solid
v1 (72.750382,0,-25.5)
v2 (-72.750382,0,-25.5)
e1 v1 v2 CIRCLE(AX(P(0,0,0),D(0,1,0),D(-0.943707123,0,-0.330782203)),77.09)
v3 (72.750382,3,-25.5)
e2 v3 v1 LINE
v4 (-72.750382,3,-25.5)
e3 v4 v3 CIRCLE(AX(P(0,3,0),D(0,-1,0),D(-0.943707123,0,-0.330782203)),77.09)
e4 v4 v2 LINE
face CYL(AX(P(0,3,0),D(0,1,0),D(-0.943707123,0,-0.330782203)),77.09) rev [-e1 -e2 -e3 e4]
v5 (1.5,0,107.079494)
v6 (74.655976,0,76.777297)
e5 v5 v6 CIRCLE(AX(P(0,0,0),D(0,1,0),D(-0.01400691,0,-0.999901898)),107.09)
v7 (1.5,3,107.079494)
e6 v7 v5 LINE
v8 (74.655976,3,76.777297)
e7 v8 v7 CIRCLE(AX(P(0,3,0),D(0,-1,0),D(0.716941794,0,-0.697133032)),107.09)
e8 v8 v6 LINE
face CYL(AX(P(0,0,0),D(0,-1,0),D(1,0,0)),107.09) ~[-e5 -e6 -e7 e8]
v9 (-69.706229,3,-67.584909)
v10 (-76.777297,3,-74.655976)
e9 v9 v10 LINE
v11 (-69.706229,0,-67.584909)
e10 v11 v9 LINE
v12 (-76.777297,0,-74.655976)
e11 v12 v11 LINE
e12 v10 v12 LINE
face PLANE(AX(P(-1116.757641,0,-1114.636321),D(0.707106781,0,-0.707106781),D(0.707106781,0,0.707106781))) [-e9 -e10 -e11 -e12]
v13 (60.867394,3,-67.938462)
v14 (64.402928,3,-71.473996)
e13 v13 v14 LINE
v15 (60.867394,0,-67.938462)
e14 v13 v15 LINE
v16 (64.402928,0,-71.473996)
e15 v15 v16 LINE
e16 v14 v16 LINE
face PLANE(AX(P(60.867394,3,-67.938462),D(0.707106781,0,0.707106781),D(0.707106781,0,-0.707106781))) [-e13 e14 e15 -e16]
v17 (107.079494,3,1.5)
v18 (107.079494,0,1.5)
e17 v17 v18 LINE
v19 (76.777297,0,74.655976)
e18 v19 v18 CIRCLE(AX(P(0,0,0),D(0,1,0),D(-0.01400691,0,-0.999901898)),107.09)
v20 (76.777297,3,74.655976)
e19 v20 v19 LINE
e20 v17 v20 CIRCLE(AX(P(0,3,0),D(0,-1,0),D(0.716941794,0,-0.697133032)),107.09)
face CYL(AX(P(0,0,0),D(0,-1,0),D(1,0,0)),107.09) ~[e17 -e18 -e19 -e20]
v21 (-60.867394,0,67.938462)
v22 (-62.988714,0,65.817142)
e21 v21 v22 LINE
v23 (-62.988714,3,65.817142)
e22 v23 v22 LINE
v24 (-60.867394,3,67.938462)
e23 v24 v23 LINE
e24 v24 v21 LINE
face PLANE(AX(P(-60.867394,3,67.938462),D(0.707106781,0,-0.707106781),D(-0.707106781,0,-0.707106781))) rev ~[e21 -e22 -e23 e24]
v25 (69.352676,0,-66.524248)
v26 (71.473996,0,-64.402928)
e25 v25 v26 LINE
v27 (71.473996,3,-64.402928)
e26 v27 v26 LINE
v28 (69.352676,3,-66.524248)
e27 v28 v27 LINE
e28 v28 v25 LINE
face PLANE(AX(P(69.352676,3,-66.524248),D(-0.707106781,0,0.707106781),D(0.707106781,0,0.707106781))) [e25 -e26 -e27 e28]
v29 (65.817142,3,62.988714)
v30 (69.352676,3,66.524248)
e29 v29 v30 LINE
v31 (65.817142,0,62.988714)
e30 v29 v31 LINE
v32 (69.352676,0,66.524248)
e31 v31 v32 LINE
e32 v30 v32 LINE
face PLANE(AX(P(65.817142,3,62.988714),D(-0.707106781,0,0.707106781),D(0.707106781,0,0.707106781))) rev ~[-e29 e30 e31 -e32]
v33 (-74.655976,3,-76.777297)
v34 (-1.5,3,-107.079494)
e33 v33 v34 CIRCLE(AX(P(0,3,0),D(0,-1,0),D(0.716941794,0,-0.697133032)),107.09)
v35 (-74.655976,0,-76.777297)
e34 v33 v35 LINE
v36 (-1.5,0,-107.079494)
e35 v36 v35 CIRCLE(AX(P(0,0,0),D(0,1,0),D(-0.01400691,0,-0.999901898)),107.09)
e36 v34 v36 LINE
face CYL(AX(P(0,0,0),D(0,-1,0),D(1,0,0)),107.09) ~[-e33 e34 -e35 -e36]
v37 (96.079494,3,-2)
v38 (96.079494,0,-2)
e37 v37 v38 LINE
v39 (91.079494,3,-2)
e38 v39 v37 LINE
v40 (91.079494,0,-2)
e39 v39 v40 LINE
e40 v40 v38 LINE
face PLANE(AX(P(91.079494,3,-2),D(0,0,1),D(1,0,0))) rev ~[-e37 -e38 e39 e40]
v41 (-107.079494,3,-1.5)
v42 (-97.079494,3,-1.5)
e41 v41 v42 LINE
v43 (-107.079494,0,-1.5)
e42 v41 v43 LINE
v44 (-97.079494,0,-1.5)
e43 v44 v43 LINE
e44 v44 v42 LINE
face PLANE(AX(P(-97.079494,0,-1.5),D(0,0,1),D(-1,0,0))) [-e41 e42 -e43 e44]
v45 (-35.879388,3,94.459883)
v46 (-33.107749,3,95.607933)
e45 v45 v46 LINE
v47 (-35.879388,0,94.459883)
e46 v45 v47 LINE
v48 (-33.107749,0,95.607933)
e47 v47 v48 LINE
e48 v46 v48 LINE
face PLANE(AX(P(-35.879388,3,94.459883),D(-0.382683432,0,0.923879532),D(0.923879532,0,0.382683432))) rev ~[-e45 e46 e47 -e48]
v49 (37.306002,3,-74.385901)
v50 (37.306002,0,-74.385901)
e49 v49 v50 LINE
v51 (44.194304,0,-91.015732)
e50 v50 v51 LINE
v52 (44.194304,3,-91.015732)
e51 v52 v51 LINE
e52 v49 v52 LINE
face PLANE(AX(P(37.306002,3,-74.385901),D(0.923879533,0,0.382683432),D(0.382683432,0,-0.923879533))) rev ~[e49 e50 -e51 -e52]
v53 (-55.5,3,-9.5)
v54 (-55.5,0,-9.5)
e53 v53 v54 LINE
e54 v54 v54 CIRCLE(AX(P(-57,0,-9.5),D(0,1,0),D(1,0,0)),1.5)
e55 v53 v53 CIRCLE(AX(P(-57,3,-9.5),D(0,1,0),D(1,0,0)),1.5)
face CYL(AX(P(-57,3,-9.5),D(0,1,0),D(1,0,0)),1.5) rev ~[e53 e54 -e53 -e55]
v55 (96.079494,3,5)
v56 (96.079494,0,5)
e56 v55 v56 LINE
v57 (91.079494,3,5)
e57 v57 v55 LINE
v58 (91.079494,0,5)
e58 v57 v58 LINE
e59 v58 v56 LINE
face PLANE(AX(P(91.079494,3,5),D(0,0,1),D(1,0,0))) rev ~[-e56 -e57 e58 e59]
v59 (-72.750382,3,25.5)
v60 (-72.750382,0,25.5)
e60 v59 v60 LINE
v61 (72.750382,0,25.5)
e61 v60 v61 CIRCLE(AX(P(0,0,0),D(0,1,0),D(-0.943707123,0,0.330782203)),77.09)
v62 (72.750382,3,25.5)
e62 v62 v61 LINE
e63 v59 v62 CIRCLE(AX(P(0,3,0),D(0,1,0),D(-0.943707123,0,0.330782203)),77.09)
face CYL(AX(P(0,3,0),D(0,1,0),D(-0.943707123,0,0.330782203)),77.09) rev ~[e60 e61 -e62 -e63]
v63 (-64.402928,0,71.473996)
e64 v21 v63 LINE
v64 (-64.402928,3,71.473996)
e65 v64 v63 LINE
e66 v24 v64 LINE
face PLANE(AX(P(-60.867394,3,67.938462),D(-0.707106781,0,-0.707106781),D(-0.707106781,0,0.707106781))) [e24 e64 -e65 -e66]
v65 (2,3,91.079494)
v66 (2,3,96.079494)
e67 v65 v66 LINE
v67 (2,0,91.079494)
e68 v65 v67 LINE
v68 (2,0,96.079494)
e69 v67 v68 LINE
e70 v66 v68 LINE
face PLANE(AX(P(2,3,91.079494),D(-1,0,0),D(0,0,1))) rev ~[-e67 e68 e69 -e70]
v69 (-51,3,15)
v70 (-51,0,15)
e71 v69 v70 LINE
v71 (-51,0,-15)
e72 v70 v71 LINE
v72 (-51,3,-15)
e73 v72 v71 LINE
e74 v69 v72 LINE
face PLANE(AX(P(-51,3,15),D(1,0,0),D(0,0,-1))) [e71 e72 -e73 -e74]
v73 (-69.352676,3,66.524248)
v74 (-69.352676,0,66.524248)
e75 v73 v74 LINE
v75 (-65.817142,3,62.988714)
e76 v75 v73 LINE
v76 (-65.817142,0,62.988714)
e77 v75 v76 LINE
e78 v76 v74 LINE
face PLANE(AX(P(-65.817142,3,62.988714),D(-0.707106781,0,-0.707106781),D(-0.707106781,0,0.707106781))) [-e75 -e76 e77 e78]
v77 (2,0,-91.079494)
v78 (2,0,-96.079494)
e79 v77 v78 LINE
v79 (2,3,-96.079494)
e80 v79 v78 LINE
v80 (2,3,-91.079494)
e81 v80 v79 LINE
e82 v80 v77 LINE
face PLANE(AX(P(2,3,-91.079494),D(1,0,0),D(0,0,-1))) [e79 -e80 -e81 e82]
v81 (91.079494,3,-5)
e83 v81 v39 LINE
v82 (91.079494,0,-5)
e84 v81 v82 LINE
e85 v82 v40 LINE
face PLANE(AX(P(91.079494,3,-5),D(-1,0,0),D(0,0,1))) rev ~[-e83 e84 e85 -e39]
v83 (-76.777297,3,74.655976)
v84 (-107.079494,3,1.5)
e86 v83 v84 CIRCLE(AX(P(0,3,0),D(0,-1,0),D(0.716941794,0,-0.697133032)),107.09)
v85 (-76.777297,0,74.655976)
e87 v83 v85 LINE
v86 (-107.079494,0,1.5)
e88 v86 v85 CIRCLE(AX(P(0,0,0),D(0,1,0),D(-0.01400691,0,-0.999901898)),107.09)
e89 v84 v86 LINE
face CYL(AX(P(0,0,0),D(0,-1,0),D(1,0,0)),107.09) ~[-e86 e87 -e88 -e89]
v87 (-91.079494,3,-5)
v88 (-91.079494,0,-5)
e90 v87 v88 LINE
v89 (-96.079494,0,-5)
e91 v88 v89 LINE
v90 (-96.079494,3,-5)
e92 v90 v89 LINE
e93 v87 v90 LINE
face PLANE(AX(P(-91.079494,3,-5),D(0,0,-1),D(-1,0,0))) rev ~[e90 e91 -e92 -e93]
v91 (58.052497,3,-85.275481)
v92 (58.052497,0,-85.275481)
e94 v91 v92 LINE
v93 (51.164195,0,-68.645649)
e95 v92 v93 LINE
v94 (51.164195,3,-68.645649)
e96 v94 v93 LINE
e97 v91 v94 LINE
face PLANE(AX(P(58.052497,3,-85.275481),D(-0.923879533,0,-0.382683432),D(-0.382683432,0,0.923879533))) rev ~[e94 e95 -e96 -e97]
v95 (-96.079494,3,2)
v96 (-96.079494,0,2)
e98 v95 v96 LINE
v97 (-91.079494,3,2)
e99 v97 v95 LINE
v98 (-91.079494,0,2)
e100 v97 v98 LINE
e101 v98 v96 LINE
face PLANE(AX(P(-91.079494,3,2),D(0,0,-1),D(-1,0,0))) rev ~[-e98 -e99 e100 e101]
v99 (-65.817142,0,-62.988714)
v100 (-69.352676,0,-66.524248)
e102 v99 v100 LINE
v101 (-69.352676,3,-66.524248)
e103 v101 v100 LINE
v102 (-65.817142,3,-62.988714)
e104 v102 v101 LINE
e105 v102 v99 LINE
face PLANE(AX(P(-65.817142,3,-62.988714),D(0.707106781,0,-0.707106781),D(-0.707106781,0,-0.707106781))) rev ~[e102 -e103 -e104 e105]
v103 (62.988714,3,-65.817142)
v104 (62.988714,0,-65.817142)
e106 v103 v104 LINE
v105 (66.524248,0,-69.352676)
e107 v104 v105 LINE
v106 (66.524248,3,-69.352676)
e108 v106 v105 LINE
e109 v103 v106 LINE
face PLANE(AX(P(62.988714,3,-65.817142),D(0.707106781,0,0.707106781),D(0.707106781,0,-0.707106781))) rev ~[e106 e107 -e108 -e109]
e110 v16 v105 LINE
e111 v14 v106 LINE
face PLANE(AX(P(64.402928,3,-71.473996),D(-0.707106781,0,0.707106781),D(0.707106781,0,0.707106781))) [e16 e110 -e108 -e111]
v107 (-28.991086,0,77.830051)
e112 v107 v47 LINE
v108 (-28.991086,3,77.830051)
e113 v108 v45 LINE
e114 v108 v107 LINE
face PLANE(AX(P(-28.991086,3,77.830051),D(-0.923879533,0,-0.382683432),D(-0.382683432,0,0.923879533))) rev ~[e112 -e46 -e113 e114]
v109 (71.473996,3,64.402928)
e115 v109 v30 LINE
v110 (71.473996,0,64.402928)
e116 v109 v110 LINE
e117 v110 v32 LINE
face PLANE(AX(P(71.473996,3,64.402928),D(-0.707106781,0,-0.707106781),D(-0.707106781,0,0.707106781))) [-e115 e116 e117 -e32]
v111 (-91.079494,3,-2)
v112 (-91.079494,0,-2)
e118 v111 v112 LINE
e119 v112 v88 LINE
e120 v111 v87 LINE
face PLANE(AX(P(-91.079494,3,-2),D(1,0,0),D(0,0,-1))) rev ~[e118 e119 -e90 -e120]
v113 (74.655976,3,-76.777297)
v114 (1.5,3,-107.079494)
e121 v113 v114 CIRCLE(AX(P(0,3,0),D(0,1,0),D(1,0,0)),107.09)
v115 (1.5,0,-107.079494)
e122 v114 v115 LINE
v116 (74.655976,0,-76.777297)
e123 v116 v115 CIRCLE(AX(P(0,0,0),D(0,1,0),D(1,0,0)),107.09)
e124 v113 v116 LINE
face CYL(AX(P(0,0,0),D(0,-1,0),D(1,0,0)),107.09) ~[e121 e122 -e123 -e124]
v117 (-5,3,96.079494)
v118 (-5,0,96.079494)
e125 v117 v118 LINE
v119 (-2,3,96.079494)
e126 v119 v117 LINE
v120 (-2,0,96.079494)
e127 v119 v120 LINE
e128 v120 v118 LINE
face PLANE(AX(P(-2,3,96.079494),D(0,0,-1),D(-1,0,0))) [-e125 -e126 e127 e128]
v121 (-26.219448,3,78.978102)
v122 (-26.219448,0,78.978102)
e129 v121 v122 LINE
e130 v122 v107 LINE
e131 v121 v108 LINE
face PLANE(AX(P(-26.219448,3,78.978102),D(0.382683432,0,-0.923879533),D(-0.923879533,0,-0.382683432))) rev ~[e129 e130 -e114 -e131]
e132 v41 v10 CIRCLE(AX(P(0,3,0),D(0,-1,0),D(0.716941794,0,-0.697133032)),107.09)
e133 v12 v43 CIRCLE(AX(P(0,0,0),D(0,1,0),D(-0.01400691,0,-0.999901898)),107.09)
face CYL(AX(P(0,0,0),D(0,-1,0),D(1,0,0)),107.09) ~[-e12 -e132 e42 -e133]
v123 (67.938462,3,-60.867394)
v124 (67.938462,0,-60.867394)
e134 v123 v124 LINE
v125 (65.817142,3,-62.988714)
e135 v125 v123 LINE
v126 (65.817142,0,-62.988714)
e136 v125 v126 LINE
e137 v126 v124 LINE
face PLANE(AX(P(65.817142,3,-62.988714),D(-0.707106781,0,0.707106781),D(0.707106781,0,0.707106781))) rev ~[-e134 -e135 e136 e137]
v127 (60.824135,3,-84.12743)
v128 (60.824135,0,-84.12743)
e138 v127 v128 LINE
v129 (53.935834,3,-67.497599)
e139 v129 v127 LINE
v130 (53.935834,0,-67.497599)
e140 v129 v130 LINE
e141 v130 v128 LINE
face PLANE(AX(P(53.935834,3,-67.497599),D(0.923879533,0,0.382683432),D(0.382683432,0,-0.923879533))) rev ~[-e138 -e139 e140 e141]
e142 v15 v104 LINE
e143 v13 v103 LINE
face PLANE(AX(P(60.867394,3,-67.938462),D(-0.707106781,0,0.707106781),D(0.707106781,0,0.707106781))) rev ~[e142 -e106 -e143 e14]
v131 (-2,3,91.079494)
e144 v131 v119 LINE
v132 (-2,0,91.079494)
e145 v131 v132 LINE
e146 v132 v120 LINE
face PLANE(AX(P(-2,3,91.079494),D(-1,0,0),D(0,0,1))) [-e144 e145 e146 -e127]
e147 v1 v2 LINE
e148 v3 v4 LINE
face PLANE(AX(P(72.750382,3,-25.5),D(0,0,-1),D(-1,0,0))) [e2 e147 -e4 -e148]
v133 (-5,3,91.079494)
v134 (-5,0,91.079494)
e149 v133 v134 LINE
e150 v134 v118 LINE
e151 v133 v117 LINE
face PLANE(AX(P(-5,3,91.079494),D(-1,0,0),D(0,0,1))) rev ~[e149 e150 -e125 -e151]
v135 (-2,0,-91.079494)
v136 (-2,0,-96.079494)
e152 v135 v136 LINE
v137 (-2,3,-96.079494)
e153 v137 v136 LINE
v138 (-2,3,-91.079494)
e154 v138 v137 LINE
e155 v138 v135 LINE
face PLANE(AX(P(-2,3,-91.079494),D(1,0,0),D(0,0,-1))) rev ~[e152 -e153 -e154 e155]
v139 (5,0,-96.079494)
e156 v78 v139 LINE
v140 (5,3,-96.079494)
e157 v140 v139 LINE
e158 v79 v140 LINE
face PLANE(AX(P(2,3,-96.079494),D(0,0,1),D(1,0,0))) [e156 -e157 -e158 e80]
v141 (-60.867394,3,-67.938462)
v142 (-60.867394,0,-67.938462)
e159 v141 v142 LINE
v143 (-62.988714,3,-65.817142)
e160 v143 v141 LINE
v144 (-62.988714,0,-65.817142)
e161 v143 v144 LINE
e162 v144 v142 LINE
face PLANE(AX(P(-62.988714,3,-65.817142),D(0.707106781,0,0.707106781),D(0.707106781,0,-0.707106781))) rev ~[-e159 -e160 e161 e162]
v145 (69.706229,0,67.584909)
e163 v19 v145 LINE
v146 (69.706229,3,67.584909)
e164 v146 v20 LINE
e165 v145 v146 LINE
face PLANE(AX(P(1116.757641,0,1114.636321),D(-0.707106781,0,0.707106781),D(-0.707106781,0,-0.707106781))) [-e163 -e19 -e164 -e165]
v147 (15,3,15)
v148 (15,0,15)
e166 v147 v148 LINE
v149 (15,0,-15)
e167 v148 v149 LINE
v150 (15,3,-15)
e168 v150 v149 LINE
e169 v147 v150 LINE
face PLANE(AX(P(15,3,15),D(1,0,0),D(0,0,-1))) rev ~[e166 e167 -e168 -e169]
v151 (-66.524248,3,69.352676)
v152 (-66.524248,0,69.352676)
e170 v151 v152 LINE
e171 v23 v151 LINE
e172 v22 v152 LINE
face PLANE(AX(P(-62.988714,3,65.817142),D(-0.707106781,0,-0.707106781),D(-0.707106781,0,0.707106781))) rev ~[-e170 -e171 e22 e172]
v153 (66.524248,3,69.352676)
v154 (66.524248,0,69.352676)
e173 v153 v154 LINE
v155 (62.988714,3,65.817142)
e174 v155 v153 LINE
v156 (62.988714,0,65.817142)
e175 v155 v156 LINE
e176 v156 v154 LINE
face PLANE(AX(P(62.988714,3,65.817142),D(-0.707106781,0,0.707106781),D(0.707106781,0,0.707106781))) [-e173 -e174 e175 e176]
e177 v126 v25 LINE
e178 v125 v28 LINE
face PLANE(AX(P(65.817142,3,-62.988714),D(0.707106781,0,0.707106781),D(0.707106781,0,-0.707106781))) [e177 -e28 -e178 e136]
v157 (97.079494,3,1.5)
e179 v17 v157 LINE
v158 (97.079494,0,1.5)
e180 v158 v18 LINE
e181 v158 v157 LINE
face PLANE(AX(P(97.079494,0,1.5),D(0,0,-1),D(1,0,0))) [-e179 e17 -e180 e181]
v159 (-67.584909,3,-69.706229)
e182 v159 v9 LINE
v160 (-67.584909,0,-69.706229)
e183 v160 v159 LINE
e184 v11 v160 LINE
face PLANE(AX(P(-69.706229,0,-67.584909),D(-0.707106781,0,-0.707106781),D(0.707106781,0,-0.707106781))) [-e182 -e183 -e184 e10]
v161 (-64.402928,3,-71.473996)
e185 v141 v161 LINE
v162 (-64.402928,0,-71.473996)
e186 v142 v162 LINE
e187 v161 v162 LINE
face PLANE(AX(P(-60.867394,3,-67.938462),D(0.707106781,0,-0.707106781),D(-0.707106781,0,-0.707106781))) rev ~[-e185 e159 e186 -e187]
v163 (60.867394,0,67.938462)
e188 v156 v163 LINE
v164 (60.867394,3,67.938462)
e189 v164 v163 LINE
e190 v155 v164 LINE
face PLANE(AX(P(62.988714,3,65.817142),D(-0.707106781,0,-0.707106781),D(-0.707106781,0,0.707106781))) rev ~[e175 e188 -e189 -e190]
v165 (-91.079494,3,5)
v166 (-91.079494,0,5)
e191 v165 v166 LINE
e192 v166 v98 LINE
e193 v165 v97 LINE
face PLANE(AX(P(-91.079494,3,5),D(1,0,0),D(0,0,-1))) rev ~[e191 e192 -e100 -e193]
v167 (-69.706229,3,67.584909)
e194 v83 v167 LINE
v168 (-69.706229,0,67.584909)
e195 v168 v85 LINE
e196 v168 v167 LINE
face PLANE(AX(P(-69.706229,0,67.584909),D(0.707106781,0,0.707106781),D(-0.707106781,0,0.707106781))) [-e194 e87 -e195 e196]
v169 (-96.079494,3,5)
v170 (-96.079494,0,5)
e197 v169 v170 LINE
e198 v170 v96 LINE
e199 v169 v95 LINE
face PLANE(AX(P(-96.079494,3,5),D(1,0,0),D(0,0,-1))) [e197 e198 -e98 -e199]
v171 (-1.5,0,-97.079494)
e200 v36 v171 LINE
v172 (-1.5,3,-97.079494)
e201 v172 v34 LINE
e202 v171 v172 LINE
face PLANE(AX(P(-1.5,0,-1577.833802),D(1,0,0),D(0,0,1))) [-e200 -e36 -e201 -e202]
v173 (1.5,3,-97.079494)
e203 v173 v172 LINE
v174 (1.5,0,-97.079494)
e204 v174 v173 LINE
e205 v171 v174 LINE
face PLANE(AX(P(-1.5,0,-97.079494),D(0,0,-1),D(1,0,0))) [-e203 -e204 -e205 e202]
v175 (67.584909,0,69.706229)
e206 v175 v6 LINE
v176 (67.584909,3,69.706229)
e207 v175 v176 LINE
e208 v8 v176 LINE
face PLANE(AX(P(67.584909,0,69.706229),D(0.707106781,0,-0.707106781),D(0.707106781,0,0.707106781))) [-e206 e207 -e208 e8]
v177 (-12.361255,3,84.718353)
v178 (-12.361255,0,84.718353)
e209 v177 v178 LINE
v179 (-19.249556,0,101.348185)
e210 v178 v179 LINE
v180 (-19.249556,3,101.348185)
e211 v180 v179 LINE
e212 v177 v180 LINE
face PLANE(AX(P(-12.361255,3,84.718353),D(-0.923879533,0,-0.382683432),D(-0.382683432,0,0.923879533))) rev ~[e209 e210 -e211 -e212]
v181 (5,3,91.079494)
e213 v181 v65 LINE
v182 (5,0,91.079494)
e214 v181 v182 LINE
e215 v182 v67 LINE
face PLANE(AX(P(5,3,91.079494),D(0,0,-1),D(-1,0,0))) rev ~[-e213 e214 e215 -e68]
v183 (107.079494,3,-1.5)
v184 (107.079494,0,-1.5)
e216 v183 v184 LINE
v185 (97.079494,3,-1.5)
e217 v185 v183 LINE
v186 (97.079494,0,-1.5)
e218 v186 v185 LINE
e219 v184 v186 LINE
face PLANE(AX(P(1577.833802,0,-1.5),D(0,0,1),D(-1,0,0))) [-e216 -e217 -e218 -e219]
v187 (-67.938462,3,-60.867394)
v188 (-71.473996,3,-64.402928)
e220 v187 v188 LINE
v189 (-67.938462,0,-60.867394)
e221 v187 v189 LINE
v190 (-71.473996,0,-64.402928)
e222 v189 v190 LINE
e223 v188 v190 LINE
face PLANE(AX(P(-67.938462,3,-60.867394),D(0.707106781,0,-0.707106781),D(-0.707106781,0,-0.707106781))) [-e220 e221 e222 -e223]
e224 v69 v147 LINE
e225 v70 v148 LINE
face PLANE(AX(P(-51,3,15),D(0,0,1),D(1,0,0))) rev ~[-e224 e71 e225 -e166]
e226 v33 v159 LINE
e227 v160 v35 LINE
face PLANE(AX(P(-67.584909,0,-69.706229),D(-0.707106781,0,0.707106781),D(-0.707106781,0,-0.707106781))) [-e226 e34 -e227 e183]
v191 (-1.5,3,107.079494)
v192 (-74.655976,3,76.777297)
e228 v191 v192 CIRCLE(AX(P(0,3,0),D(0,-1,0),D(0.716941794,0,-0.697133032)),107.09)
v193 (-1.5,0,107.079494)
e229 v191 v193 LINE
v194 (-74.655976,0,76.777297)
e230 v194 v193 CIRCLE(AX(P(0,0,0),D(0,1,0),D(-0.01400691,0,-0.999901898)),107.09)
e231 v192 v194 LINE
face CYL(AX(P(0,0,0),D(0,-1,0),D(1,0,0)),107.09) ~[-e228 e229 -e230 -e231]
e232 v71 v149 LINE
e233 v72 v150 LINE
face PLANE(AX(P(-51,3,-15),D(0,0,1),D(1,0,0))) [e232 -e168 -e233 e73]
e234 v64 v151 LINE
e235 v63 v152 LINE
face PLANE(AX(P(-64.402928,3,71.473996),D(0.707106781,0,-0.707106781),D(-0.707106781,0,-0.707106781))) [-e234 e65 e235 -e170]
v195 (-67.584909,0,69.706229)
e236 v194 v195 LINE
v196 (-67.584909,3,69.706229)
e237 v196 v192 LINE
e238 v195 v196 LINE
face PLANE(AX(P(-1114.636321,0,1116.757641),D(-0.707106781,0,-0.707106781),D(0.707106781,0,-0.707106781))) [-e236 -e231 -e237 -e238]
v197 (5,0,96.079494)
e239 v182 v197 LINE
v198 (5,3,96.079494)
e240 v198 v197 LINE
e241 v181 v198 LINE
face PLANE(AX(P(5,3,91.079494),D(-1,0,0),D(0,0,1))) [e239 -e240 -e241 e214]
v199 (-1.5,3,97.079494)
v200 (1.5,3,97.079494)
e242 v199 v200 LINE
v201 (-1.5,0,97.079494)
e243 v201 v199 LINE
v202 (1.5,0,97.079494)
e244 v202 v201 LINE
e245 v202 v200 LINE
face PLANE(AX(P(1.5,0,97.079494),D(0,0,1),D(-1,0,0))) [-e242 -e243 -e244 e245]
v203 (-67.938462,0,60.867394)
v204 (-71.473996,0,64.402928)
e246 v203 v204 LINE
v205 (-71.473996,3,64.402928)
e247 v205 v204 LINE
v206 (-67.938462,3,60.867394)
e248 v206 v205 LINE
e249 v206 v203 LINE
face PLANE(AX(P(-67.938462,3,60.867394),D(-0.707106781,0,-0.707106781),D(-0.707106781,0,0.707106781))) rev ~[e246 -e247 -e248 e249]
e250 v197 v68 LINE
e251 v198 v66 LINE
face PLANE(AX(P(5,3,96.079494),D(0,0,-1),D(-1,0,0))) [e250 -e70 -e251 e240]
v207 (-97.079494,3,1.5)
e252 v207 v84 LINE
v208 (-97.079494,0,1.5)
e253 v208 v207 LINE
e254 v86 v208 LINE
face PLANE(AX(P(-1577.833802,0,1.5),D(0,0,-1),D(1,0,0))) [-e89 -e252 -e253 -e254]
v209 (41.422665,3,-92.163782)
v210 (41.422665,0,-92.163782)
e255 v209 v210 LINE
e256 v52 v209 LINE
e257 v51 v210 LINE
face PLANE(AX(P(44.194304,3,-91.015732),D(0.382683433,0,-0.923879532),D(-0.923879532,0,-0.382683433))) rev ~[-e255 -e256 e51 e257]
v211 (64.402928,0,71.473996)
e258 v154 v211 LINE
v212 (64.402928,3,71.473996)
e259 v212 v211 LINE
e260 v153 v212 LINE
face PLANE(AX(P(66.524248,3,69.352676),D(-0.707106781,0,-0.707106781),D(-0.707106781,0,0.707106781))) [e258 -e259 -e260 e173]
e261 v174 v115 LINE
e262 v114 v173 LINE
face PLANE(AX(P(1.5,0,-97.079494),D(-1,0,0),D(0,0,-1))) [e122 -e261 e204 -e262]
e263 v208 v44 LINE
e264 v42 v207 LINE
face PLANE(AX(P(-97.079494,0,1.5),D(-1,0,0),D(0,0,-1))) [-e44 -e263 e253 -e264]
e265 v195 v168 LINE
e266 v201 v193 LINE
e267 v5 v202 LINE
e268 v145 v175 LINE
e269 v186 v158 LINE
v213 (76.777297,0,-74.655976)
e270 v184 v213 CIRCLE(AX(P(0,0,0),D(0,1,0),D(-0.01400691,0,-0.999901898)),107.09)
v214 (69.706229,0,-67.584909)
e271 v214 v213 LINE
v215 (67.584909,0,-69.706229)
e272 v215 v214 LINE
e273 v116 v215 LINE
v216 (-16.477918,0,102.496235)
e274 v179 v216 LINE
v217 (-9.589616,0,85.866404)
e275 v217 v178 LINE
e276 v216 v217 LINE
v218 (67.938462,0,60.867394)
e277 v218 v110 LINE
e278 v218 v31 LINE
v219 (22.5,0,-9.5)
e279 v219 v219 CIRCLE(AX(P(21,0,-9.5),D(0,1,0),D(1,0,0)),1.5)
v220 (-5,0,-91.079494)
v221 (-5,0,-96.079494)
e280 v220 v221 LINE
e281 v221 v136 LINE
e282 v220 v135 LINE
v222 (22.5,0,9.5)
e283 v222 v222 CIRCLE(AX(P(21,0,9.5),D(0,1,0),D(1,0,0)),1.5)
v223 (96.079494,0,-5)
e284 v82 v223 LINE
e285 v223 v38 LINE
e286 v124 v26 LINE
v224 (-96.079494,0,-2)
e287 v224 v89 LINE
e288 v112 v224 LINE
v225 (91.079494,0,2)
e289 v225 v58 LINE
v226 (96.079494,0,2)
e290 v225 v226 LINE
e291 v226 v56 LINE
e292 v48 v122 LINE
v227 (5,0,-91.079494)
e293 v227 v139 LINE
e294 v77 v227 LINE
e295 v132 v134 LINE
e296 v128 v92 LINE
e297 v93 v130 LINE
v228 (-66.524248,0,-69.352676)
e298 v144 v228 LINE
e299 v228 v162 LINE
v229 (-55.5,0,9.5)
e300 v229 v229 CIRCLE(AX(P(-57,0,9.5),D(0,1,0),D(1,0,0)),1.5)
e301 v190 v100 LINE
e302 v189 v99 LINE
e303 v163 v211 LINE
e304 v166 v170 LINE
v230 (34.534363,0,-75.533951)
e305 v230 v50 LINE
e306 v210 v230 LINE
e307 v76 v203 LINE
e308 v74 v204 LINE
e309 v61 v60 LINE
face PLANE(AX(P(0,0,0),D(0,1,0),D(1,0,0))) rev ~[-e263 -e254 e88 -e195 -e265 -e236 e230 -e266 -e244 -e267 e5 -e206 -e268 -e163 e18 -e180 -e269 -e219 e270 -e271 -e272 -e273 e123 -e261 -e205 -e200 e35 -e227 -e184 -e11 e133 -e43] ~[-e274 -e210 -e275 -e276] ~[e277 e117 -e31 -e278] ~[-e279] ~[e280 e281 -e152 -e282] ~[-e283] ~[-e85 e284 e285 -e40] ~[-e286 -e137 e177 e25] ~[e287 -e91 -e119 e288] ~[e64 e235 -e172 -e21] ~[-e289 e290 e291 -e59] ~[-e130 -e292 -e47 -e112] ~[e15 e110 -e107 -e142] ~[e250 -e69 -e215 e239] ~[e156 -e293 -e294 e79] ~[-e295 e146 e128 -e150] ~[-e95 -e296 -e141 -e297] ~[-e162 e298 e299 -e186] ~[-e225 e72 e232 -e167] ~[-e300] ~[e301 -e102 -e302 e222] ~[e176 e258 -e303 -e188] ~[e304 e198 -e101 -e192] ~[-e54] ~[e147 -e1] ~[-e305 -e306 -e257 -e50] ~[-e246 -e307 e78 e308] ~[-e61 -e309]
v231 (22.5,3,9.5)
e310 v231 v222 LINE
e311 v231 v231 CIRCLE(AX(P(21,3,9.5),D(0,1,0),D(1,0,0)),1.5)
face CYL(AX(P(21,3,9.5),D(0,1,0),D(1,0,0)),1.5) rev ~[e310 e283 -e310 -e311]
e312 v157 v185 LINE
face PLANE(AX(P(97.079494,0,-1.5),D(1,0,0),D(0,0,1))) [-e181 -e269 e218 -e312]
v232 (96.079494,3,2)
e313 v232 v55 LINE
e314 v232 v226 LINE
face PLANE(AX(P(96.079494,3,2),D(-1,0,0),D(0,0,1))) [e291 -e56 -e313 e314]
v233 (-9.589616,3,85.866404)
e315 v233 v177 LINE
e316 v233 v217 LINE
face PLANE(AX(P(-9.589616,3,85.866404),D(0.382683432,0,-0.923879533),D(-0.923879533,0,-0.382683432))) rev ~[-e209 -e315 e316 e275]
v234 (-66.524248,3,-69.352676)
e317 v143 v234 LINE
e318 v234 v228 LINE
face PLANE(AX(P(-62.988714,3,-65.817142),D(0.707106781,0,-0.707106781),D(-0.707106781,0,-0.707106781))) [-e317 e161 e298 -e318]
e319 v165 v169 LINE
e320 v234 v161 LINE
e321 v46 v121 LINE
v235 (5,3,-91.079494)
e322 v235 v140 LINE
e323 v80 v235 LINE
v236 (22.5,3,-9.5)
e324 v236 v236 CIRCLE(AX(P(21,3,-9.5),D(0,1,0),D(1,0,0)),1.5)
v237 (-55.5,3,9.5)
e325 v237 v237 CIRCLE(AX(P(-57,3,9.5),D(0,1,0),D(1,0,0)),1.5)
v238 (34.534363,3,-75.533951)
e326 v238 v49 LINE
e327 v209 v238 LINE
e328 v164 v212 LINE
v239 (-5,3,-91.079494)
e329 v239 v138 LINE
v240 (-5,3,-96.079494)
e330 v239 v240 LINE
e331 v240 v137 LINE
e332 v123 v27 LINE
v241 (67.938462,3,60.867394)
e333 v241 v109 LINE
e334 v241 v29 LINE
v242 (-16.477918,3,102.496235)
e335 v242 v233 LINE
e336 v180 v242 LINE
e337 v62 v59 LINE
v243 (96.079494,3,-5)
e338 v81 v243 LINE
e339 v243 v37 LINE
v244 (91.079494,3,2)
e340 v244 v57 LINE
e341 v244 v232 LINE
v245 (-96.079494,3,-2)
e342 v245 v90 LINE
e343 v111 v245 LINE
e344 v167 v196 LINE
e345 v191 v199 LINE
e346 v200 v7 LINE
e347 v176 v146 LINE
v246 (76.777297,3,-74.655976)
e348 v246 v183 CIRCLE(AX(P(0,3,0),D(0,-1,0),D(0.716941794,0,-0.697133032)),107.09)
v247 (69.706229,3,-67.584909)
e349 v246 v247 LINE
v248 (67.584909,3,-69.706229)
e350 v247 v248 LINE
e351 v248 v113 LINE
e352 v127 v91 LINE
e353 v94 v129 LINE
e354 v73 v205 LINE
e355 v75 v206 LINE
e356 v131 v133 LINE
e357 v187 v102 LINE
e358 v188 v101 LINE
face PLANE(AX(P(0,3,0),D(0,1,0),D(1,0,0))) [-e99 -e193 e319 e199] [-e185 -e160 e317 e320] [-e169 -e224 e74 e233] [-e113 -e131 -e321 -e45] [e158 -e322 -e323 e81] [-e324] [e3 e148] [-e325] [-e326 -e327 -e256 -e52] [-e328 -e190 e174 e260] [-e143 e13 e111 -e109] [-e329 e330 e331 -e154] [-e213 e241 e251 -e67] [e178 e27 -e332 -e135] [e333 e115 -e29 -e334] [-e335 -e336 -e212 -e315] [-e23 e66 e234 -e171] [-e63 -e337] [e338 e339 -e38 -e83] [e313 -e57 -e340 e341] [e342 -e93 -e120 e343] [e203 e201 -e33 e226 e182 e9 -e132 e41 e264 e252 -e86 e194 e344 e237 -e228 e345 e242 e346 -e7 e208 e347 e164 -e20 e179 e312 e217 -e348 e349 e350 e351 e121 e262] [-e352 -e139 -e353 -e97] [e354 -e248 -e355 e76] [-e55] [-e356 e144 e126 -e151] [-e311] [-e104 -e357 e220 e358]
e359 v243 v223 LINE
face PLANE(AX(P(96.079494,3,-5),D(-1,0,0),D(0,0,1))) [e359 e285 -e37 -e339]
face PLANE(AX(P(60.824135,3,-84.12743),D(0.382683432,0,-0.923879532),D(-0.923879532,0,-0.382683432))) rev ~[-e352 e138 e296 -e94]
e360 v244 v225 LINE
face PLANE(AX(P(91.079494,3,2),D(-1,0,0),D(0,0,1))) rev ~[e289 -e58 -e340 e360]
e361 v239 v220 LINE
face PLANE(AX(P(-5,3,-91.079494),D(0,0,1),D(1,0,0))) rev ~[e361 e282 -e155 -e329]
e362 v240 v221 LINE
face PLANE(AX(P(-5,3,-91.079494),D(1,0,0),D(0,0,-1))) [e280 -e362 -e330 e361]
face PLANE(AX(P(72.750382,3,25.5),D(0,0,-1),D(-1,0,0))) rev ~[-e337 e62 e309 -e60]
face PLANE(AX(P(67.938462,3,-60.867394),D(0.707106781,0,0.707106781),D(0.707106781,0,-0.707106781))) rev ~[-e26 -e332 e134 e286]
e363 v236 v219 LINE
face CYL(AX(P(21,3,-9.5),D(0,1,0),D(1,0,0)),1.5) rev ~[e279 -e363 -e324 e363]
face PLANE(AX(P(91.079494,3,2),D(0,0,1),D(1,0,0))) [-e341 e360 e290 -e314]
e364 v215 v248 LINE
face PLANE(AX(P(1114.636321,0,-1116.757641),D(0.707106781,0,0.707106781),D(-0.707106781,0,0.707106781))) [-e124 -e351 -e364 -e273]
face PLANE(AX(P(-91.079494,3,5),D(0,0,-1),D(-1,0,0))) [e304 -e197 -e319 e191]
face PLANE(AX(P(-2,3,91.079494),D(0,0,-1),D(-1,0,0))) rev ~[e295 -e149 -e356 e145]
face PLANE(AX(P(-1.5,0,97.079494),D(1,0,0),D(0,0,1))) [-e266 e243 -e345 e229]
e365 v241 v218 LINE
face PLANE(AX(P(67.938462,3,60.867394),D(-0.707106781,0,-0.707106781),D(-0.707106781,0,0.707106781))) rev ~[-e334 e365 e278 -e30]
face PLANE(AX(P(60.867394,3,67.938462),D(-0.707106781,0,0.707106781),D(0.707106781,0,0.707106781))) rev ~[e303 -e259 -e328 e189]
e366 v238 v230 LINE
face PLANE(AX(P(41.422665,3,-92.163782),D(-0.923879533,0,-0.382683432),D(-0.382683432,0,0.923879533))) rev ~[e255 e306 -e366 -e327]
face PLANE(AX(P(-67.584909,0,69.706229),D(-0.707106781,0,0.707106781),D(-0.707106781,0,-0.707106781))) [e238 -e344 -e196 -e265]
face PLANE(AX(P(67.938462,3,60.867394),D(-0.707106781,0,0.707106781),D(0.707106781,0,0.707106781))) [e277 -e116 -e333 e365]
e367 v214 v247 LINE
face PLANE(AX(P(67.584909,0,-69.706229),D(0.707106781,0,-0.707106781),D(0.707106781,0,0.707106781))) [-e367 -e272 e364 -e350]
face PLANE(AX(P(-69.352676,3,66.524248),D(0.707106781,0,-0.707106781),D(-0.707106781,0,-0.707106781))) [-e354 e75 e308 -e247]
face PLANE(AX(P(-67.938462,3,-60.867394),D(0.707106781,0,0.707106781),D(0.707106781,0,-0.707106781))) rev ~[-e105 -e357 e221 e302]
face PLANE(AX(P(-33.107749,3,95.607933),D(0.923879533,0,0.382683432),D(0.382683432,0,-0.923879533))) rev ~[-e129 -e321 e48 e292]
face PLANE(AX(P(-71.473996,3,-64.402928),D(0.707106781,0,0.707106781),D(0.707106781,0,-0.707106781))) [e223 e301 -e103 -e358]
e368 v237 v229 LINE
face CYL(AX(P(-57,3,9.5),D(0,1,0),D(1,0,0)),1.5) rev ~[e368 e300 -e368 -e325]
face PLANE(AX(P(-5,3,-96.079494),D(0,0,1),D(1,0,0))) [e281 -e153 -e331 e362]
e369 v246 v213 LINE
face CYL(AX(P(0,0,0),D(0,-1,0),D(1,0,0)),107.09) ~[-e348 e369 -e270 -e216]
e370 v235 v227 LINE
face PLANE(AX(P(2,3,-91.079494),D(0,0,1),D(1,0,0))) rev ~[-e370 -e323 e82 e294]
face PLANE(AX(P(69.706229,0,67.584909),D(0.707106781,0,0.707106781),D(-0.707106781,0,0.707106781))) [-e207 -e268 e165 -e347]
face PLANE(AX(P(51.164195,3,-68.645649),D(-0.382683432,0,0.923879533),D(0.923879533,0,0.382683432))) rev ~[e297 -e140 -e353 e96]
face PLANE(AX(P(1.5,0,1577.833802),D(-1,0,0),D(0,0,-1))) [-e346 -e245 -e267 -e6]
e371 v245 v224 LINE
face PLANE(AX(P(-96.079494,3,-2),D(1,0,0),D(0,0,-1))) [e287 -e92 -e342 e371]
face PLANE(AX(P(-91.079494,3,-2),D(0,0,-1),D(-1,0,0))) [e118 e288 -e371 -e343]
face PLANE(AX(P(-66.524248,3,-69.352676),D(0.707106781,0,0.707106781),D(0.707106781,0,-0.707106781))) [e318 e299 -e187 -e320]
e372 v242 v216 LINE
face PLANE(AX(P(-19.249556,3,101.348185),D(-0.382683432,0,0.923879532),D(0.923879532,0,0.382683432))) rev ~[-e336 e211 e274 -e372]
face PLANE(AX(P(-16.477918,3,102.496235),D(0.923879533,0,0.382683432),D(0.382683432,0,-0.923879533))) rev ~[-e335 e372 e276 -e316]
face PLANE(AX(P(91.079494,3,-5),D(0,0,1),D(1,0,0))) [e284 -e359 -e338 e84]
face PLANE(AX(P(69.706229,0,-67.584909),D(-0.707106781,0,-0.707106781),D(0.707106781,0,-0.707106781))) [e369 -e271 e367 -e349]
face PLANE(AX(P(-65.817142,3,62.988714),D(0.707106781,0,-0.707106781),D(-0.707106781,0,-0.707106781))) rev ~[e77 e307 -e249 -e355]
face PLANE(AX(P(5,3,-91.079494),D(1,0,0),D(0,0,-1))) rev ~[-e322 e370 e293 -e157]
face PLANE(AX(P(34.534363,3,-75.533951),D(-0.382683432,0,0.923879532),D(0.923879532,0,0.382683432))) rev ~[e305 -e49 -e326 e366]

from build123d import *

# Parameters (mm, degrees)
SKETCH1_R           = 107.09
BOSS_EXTRUDE1_DEPTH = 3
CUT_EXTRUDE1_START  = -3
CUT_EXTRUDE1_DEPTH  = 4
CIRPATTERN1_COUNT   = 8
SKETCH7_W           = 3
SKETCH7_H           = 5
CUT_EXTRUDE4_DEPTH  = 3
CIRPATTERN2_COUNT   = 8
SKETCH4_R           = 1.5
SKETCH4_W           = 66
SKETCH4_H           = 30
CUT_EXTRUDE5_DEPTH  = 10
CUT_EXTRUDE6_DEPTH  = 3


with BuildPart() as part:
    # Sketch1 → Boss-Extrude1 (new body)
    with BuildSketch(Plane(origin=(0, 0, 0), x_dir=(1, 0, 0), z_dir=(0, 1, 0))):
        Circle(SKETCH1_R)
    extrude(amount=BOSS_EXTRUDE1_DEPTH)

    # Sketch2 → Cut-Extrude1 (cut)
    with BuildSketch(Plane(origin=(0, 3, 0), x_dir=(1, 0, 0), z_dir=(0, 1, 0)).offset(CUT_EXTRUDE1_START)):
        Polygon((-1.5, 597.330930071), (-1.5, 107.079494302), (-1.5, 97.079494302), (1.5, 97.079494302), (1.5, 107.079494302), (1.5, 597.330930071), (1.5, 1577.83380161), (-1.5, 1577.83380161), align=None)
    cut_extrude1 = extrude(amount=CUT_EXTRUDE1_DEPTH, mode=Mode.SUBTRACT)

    # CirPattern1: Cut-Extrude1 ×8 about axis
    cirpattern1_axis = Axis((0, 0, 0), (0, -1, 0))
    for i in range(1, CIRPATTERN1_COUNT):
        add(cut_extrude1.rotate(cirpattern1_axis, i * 360 / CIRPATTERN1_COUNT), mode=Mode.SUBTRACT)

    # Sketch7 → Cut-Extrude4 (cut)
    with BuildSketch(Plane(origin=(0, 3, 0), x_dir=(1, 0, 0), z_dir=(0, 1, 0))):
        with Locations((-3.5, 93.579494302)):
            Rectangle(SKETCH7_W, SKETCH7_H)
        with Locations((3.5, 93.579494302)):
            Rectangle(SKETCH7_W, SKETCH7_H)
    cut_extrude4 = extrude(amount=-CUT_EXTRUDE4_DEPTH, mode=Mode.SUBTRACT)

    # CirPattern2: Cut-Extrude4 ×8 about axis
    cirpattern2_axis = Axis((0, 0, 0), (0, 1, 0))
    for i in range(1, CIRPATTERN2_COUNT):
        add(cut_extrude4.rotate(cirpattern2_axis, i * 360 / CIRPATTERN2_COUNT), mode=Mode.SUBTRACT)

    # Sketch4 → Cut-Extrude5 (cut)
    with BuildSketch(Plane(origin=(0, 3, 0), x_dir=(1, 0, 0), z_dir=(0, 1, 0))):
        with Locations((-57, 9.5)):
            Circle(SKETCH4_R)
        with Locations((-57, -9.5)):
            Circle(SKETCH4_R)
        with Locations((21, -9.5)):
            Circle(SKETCH4_R)
        with Locations((21, 9.5)):
            Circle(SKETCH4_R)
        with Locations((-18, 0)):
            Rectangle(SKETCH4_W, SKETCH4_H)
        with BuildLine():
            Line((72.75038213, -25.5), (-72.75038213, -25.5))
            ThreePointArc((-72.75038213, -25.5), (0, -77.09), (72.75038213, -25.5))
        make_face()
        with BuildLine():
            Line((72.75038213, 25.5), (-72.75038213, 25.5))
            ThreePointArc((-72.75038213, 25.5), (0, 77.09), (72.75038213, 25.5))
        make_face()
    extrude(amount=-CUT_EXTRUDE5_DEPTH, mode=Mode.SUBTRACT)

    # Sketch9 → Cut-Extrude6 (cut)
    with BuildSketch(Plane(origin=(0, 3, 0), x_dir=(1, 0, 0), z_dir=(0, 1, 0))):
        Polygon((-35.879388071, -94.459883081), (-33.107749474, -95.607933378), (-26.219447691, -78.978101793), (-28.991086289, -77.830051496), align=None)
        Polygon((-19.249556486, -101.348184863), (-16.477917889, -102.49623516), (-9.589616106, -85.866403575), (-12.361254704, -84.718353278), align=None)
        Polygon((53.935833667, 67.497598822), (60.824135449, 84.127430407), (58.052496852, 85.275480704), (51.164195069, 68.645649119), align=None)
        Polygon((37.306002081, 74.385900604), (44.194303864, 91.015732189), (41.422665266, 92.163782487), (34.534363484, 75.533950901), align=None)
    extrude(amount=-CUT_EXTRUDE6_DEPTH, mode=Mode.SUBTRACT)


solid = part.part
